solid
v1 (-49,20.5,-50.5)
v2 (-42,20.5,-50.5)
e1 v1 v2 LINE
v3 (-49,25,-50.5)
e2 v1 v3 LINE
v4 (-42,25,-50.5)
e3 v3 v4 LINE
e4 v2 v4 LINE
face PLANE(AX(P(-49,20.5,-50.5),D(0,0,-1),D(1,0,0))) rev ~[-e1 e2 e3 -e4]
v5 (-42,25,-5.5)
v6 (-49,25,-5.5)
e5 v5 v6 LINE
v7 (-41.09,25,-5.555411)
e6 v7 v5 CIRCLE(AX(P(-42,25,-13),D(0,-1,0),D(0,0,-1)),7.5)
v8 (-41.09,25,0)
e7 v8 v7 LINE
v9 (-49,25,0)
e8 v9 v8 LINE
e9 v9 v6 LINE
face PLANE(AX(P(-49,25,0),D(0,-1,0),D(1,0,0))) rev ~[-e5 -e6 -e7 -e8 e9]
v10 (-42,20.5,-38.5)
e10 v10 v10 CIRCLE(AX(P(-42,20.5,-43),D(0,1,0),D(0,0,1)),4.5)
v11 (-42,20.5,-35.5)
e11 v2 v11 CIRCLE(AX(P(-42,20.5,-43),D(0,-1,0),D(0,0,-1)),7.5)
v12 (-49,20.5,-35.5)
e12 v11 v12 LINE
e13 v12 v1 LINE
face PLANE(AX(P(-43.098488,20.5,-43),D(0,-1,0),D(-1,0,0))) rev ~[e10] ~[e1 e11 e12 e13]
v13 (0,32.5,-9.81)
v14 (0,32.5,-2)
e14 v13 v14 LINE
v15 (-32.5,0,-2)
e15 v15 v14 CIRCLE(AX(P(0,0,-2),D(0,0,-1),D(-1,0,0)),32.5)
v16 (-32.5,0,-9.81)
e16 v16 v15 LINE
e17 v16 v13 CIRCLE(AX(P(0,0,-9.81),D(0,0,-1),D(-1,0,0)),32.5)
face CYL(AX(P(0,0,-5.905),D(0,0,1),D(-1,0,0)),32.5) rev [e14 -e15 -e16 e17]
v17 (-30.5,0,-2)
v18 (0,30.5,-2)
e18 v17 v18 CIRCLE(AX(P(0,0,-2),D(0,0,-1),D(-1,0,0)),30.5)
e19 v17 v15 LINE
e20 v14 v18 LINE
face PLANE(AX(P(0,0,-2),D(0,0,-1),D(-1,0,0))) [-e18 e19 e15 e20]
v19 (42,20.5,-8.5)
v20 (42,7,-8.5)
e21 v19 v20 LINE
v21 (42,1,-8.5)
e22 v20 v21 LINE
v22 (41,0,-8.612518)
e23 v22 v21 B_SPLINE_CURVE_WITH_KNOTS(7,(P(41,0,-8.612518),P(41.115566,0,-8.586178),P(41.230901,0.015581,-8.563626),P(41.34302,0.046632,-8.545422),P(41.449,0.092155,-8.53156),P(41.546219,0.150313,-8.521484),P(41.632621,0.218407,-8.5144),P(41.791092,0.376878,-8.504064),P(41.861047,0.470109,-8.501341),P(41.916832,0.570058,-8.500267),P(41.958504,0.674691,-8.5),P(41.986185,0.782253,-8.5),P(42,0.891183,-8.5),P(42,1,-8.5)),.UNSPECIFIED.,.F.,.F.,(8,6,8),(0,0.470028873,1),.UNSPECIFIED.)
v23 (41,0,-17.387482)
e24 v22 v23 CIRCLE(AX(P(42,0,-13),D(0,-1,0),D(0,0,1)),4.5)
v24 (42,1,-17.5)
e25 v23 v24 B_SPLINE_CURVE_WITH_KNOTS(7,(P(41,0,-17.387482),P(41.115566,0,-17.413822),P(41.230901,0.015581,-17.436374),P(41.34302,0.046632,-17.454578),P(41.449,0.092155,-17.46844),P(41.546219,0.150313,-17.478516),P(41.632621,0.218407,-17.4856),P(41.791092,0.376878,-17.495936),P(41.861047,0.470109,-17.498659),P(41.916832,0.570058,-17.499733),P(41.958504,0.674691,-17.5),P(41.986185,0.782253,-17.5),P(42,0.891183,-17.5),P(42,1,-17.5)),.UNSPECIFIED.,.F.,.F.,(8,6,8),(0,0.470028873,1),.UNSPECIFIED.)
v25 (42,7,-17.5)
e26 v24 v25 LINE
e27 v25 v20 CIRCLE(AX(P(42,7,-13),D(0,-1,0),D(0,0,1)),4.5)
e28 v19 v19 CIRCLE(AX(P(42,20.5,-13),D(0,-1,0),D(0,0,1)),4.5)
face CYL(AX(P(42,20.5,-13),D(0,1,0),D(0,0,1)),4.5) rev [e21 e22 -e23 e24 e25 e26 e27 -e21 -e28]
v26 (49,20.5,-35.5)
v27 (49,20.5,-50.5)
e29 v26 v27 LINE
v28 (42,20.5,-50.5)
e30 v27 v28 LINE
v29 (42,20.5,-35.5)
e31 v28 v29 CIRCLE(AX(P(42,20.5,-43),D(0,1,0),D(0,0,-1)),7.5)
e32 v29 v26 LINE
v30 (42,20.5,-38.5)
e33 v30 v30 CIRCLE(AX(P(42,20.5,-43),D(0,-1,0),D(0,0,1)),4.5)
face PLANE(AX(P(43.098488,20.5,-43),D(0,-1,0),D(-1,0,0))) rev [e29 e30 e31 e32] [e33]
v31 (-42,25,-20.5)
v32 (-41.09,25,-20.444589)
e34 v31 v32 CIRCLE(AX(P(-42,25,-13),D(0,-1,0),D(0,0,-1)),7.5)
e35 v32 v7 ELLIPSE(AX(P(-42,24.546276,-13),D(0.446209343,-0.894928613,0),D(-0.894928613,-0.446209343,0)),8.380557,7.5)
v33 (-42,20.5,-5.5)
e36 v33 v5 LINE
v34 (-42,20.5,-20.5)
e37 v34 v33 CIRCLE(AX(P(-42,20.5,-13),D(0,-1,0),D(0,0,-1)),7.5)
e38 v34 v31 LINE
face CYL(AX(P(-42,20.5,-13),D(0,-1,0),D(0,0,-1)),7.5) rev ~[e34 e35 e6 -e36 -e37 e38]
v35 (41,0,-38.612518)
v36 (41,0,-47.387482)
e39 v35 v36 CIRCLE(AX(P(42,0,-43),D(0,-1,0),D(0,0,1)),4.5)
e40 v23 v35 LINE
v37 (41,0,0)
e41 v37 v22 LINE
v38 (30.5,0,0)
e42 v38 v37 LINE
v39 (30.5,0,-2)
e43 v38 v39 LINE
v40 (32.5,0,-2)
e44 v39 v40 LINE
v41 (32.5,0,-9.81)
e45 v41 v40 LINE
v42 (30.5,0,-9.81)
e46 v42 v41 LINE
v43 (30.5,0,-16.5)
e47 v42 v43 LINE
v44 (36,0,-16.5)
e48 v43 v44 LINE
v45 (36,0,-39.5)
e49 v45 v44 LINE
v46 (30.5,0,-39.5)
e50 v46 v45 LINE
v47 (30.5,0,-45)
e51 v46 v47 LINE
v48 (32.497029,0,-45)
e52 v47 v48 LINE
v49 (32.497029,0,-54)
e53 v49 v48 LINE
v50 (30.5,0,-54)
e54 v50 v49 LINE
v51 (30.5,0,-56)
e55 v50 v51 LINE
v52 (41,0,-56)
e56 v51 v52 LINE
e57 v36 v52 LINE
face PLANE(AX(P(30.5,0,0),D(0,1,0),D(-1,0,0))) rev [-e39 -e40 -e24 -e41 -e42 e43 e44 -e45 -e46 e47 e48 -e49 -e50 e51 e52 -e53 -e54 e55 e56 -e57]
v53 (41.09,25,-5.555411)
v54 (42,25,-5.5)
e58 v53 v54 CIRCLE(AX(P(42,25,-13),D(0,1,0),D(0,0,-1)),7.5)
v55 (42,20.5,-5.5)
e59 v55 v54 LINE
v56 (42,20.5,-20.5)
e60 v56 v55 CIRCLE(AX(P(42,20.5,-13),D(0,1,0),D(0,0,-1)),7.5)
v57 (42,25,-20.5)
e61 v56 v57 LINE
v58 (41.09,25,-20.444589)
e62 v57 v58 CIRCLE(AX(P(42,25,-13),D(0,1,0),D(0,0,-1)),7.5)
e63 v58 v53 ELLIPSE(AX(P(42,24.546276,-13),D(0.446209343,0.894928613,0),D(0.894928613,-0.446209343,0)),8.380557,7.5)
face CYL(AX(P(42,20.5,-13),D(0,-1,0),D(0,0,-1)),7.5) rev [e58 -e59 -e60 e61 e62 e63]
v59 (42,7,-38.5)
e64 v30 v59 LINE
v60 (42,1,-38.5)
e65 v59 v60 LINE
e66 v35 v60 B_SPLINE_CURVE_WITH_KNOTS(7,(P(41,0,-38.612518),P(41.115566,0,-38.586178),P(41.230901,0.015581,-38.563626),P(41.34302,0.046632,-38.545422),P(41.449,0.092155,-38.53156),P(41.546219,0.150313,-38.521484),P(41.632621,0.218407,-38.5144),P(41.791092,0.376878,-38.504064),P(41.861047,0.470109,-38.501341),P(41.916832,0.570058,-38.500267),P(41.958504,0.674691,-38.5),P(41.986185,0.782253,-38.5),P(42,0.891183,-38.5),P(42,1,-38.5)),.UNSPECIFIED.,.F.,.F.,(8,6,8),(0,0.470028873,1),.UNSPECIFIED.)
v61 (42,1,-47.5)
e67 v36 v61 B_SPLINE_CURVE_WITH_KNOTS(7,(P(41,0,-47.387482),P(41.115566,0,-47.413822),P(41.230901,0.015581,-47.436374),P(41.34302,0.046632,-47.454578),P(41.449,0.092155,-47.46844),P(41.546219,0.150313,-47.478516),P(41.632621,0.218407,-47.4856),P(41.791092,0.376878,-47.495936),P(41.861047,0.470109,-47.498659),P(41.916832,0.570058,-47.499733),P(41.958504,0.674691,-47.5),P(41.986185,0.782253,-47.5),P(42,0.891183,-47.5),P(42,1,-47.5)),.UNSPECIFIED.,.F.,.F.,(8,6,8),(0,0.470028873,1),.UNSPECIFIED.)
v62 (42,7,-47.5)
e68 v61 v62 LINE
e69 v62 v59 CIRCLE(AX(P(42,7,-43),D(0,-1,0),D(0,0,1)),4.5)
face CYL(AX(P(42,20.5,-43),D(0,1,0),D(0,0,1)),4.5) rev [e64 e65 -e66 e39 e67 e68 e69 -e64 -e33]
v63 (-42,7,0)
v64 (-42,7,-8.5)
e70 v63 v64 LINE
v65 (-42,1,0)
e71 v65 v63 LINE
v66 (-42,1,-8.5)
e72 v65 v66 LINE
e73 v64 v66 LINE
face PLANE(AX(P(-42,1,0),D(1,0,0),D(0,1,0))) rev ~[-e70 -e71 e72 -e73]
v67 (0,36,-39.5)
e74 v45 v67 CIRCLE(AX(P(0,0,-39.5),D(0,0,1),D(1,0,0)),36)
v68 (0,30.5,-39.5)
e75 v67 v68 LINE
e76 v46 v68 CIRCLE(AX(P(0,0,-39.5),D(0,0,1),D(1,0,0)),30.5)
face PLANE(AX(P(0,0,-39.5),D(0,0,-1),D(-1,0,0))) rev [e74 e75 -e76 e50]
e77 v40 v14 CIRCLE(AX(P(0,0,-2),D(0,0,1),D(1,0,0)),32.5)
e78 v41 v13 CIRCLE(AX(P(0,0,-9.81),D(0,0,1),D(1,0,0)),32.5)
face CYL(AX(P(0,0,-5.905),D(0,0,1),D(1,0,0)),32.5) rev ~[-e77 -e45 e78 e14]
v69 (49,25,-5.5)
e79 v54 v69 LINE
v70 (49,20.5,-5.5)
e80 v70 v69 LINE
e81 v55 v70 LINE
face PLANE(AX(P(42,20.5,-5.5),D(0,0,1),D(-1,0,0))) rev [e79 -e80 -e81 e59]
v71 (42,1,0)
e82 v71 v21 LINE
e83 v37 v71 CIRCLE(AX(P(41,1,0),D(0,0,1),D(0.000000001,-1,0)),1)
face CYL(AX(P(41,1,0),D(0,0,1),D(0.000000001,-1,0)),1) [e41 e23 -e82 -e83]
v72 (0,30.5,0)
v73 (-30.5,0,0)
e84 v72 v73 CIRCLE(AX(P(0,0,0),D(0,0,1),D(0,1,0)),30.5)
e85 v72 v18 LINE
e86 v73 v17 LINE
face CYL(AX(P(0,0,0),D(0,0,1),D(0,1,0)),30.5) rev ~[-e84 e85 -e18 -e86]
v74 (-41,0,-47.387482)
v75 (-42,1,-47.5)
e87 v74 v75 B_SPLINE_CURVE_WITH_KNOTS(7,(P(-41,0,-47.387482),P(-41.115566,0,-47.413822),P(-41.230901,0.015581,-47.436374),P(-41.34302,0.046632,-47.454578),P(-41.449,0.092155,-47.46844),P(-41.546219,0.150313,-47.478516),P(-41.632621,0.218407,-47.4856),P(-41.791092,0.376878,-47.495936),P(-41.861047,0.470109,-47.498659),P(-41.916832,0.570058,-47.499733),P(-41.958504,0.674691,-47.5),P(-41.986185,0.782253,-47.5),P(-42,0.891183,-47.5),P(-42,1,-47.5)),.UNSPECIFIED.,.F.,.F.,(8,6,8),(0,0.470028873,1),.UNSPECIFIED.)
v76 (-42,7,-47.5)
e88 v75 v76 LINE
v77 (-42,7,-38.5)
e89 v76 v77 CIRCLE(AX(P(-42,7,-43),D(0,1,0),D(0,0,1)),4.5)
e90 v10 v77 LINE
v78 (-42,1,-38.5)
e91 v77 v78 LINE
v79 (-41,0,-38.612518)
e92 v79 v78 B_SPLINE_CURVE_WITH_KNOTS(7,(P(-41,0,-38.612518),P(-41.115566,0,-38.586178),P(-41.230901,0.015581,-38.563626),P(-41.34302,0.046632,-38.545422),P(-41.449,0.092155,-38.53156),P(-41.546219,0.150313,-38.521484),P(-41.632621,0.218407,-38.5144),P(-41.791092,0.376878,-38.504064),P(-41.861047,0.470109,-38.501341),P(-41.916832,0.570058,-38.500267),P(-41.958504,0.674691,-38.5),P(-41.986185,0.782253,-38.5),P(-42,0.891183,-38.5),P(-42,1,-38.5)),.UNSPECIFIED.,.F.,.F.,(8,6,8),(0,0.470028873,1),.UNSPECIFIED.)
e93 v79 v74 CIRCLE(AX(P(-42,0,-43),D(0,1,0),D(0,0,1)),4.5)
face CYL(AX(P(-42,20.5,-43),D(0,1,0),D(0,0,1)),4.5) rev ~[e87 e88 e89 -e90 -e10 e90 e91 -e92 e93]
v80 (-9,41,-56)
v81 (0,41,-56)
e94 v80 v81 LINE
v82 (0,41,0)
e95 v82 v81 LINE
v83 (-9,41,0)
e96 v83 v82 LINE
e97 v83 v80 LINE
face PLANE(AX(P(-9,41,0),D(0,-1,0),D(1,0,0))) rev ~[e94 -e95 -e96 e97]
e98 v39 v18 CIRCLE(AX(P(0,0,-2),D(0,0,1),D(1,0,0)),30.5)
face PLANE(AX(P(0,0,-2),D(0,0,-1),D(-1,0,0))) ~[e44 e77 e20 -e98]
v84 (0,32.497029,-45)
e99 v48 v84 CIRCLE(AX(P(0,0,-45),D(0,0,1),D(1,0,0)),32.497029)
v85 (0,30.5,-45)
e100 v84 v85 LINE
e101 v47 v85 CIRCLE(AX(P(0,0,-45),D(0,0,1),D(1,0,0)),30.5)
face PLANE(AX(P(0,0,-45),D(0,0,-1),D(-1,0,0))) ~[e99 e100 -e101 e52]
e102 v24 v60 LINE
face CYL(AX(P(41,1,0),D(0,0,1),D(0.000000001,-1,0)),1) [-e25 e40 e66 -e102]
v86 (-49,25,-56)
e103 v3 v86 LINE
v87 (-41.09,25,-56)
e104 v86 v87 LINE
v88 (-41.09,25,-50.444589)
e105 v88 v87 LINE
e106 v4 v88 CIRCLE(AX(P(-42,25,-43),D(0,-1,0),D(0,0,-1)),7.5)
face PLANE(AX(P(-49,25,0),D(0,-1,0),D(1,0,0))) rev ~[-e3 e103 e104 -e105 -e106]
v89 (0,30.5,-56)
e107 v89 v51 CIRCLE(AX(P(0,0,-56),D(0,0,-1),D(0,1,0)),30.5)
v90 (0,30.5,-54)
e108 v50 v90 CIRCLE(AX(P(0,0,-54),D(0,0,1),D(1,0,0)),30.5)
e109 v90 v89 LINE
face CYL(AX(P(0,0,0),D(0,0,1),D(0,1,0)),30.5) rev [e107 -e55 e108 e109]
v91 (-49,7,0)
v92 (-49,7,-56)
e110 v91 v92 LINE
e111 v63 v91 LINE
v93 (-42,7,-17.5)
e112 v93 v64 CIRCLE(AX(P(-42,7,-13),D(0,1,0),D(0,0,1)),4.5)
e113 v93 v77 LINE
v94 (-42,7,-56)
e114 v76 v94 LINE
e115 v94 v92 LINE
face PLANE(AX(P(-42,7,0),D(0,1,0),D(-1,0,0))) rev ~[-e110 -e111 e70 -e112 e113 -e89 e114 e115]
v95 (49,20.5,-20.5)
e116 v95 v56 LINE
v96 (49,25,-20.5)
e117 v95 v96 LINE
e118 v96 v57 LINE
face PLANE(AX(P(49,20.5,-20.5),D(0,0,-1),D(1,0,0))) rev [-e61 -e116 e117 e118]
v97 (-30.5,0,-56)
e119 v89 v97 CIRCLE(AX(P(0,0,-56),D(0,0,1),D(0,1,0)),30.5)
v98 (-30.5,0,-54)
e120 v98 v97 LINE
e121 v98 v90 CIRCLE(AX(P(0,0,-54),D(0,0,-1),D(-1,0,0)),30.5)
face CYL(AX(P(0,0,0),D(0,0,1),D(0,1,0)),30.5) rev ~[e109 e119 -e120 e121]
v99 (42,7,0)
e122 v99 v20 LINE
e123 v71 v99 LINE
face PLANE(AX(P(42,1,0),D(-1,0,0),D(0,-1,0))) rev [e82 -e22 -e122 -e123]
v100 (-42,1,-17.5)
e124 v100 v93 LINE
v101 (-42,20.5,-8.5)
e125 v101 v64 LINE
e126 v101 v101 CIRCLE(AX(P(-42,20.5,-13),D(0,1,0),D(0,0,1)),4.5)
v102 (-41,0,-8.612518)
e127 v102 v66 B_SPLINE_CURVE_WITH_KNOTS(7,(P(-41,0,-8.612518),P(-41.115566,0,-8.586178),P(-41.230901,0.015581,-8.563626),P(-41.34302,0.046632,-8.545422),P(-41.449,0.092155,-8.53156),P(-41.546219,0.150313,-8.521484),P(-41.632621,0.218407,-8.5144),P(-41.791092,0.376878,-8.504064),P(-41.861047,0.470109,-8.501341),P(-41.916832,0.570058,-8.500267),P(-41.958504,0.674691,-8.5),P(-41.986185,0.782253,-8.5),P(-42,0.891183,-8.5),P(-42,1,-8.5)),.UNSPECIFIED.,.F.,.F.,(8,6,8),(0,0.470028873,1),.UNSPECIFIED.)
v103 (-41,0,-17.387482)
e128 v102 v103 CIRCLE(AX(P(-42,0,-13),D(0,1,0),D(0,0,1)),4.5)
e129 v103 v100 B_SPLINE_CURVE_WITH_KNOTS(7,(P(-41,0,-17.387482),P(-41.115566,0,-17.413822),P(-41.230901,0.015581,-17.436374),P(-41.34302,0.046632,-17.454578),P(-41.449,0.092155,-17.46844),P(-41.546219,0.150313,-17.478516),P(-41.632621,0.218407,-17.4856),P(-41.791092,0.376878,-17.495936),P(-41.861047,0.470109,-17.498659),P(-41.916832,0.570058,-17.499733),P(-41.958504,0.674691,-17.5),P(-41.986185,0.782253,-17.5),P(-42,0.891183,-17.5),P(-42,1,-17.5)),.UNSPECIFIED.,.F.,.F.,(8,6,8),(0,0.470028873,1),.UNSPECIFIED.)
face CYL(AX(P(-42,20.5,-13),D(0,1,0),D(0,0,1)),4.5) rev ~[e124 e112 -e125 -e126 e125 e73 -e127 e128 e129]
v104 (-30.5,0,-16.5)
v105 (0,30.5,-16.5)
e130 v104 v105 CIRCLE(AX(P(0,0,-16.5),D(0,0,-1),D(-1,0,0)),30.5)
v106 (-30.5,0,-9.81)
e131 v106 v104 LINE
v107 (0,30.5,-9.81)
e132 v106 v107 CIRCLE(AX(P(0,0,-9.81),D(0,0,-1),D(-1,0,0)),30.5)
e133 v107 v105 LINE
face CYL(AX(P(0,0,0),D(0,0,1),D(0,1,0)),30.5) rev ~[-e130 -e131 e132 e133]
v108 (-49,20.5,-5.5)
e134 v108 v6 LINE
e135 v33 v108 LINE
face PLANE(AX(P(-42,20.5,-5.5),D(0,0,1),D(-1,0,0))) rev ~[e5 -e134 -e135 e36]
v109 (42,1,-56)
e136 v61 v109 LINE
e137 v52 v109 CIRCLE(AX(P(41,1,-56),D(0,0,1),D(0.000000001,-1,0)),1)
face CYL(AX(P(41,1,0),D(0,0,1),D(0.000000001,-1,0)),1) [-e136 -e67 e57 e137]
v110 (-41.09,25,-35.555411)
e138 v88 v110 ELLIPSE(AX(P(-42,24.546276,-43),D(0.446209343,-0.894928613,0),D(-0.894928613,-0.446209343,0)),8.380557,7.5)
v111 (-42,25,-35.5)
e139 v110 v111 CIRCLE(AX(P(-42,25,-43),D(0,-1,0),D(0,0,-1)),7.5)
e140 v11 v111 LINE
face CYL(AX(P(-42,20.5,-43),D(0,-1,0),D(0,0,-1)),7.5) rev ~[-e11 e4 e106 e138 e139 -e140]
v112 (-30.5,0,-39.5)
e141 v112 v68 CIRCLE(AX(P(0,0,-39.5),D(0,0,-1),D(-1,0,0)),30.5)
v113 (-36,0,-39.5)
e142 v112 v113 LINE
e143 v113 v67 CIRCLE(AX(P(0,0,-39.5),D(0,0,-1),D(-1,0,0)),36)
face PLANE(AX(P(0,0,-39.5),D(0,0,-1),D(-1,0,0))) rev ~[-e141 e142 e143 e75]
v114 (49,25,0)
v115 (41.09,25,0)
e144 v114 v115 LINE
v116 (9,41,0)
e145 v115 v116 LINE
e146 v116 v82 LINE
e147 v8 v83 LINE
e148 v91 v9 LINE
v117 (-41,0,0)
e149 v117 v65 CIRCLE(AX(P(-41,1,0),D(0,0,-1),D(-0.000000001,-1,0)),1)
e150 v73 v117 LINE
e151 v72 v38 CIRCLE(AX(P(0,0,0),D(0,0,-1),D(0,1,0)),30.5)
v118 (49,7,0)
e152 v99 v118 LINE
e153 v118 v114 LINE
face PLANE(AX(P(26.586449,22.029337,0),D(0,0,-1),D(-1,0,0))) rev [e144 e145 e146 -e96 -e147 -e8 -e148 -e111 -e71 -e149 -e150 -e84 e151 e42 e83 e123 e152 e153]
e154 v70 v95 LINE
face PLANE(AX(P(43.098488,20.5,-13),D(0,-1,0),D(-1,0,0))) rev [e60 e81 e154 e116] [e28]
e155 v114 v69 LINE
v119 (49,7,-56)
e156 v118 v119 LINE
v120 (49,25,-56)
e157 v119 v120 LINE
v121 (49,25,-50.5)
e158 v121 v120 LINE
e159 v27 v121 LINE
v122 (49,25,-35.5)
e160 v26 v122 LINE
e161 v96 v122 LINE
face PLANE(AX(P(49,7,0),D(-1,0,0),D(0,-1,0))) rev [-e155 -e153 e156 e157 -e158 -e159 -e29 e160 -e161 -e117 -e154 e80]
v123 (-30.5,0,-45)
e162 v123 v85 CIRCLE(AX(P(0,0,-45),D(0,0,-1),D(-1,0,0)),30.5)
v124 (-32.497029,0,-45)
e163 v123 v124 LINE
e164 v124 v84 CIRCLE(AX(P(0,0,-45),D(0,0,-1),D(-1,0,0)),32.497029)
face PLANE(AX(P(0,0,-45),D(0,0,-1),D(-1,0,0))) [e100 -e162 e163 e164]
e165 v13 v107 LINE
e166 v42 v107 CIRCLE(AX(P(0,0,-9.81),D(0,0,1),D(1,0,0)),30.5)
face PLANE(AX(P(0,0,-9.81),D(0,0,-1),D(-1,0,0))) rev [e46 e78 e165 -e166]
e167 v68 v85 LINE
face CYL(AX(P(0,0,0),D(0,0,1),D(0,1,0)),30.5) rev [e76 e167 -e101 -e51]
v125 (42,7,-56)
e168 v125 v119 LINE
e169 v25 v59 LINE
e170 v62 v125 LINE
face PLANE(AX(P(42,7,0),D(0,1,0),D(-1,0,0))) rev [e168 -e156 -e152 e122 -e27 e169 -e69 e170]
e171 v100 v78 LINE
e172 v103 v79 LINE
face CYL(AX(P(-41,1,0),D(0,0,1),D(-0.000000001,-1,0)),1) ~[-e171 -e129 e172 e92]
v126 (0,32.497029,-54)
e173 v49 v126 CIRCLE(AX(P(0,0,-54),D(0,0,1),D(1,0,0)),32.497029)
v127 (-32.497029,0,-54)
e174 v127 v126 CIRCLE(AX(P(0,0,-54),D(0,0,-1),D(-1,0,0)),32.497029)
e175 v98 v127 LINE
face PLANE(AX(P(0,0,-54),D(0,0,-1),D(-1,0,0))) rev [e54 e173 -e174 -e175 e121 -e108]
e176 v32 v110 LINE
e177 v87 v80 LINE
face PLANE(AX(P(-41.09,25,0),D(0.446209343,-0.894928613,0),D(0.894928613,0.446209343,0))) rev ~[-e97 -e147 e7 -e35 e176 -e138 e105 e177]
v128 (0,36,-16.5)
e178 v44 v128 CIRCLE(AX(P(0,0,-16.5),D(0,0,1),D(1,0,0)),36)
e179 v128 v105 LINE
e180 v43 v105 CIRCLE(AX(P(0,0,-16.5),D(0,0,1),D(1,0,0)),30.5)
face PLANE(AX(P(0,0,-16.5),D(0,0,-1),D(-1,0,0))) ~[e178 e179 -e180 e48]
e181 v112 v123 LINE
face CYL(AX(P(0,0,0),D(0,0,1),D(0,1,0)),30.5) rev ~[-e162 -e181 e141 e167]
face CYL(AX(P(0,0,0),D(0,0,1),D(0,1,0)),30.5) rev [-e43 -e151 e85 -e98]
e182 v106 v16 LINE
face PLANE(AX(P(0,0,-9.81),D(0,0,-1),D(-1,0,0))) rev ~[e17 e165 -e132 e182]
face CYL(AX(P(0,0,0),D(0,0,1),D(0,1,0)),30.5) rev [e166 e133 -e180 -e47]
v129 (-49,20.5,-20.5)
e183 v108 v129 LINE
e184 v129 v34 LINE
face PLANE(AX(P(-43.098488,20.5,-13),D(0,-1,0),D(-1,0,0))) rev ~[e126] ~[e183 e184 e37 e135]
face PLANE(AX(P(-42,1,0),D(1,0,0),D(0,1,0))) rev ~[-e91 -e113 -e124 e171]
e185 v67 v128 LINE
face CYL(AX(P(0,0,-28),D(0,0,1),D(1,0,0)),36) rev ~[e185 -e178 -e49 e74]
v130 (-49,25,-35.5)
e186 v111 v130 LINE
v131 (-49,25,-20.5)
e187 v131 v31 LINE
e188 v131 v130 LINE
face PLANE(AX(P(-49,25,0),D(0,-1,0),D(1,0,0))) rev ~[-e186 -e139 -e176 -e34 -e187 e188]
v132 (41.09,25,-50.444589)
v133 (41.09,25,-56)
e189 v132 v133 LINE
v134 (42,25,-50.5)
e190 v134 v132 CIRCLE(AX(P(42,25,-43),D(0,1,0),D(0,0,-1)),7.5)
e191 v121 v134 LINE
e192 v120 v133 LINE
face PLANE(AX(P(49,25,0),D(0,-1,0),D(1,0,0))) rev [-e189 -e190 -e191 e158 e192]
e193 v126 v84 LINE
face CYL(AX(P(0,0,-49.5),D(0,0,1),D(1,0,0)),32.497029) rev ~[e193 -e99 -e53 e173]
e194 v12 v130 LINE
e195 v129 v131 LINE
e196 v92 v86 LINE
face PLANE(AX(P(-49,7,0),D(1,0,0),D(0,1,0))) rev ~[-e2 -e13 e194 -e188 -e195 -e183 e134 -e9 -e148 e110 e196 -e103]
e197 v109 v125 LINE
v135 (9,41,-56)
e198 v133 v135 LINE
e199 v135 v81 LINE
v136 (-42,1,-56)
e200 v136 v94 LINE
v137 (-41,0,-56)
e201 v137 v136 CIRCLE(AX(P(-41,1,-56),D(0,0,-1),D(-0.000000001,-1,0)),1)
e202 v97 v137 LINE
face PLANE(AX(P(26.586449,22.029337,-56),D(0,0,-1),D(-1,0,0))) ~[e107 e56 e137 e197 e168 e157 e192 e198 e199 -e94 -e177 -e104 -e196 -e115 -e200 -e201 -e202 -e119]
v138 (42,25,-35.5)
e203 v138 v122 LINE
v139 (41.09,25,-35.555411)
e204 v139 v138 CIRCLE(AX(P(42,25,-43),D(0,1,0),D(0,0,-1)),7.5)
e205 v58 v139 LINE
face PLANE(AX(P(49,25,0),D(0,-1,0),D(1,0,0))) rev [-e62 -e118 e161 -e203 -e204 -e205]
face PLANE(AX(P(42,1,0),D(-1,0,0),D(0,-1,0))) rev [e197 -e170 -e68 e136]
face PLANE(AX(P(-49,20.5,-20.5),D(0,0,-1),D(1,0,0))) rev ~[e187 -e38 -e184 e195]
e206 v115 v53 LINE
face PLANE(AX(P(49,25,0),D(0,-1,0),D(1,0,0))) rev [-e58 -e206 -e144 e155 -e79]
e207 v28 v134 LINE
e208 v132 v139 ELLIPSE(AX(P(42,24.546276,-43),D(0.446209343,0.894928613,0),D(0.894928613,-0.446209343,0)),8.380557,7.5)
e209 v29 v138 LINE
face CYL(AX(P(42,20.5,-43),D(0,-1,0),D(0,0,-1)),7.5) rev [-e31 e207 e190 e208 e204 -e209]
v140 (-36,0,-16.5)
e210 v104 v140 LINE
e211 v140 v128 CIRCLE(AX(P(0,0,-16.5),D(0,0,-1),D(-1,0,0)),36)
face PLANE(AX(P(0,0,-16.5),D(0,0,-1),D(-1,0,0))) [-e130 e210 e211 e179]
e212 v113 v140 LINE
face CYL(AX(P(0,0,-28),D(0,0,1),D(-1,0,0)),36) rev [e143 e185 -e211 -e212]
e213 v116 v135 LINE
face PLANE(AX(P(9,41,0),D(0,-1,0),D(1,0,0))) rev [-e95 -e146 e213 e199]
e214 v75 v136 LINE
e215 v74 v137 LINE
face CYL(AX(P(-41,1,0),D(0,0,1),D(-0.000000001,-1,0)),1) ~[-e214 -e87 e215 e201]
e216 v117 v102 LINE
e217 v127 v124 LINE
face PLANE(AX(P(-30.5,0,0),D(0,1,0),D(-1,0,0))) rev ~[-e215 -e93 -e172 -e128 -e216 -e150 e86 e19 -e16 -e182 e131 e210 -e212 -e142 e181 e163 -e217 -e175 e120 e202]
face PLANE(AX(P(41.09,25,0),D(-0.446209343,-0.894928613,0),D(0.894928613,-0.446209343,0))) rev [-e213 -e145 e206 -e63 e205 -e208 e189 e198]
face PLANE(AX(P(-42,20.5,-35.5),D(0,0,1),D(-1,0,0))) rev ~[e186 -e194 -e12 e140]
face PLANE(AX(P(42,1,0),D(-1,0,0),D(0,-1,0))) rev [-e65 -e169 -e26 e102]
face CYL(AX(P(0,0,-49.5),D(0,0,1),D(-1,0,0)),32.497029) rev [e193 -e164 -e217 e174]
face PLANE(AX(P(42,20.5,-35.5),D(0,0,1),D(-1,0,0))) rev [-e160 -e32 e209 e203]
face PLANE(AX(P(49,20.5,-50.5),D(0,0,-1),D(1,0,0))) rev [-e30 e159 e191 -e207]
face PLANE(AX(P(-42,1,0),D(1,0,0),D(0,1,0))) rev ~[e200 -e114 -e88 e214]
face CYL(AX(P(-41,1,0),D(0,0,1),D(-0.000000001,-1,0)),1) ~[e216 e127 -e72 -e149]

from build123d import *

# Parameters (mm, degrees)
BOSS_EXTRUDE1_DEPTH     = 56
SKETCH2_W               = 2
SKETCH2_H               = 7.81
SKETCH2_W_2             = 5.5
SKETCH2_H_2             = 23
SKETCH2_W_3             = 1.997029369
SKETCH2_H_3             = 9
CUT_EXTRUDE1_DEPTH      = 79.498407627
CUT_EXTRUDE1_DEPTH_BACK = 4.5
SKETCH5_R               = 4.5
CUT_EXTRUDE2_DEPTH      = 78.183223566


with BuildPart() as part:
    # Sketch1 → Boss-Extrude1 (new body)
    with BuildSketch(Plane.XY):
        with BuildLine():
            Line((-30.5, 0), (-41, 0))
            ThreePointArc((-41, 0), (-41.707106781, 0.292893219), (-42, 1))
            Line((-42, 1), (-42, 7))
            Line((-42, 7), (-49, 7))
            Line((-49, 7), (-49, 25))
            Line((-49, 25), (-41.09, 25))
            Line((-41.09, 25), (-9, 41))
            Line((-9, 41), (0, 41))
            Line((0, 41), (0, 30.5))
            ThreePointArc((0, 30.5), (-21.566756826, 21.566756826), (-30.5, 0))
        make_face()
    extrude(amount=-BOSS_EXTRUDE1_DEPTH)

    # Sketch2 → Cut-Revolve6 (revolve, cut)
    with BuildSketch(Plane.XZ):
        with Locations((-31.5, -5.905)):
            Rectangle(SKETCH2_W, SKETCH2_H)
        with Locations((-33.25, -28)):
            Rectangle(SKETCH2_W_2, SKETCH2_H_2)
        with Locations((-31.498514685, -49.5)):
            Rectangle(SKETCH2_W_3, SKETCH2_H_3)
    revolve(axis=Axis((0, 0, 0), (0, 0, -1)), mode=Mode.SUBTRACT)

    # Sketch4 → Cut-Extrude1 (cut, two sides: drawn at the far end of the back side and taken through both)
    with BuildSketch(Plane(origin=(0, 25, 0), x_dir=(1, 0, 0), z_dir=(0, 1, 0)).offset(-CUT_EXTRUDE1_DEPTH_BACK)):
        with BuildLine():
            Line((-49, 50.5), (-42, 50.5))
            ThreePointArc((-42, 50.5), (-34.5, 43), (-42, 35.5))
            Line((-42, 35.5), (-49, 35.5))
            Line((-49, 35.5), (-49, 50.5))
        make_face()
        with BuildLine():
            Line((-49, 20.5), (-42, 20.5))
            ThreePointArc((-42, 20.5), (-34.5, 13), (-42, 5.5))
            Line((-42, 5.5), (-49, 5.5))
            Line((-49, 5.5), (-49, 20.5))
        make_face()
    extrude(amount=CUT_EXTRUDE1_DEPTH + CUT_EXTRUDE1_DEPTH_BACK, mode=Mode.SUBTRACT)

    # Sketch5 → Cut-Extrude2 (cut, through all)
    with BuildSketch(Plane(origin=(0, 20.5, 0), x_dir=(1, 0, 0), z_dir=(0, 1, 0))):
        with Locations(Location((-42, 13, 0), (0, 0, 270))):
            Circle(SKETCH5_R)
        with Locations(Location((-42, 43, 0), (0, 0, 270))):
            Circle(SKETCH5_R)
    extrude(amount=-CUT_EXTRUDE2_DEPTH, mode=Mode.SUBTRACT)

    # Mirror1: part across plane


with BuildPart() as part_1:
    add(part.part)
    add(part.part.mirror(Plane(origin=(0, 41, -56), x_dir=(0, 0, 1), z_dir=(-1, 0, 0))))


solid = part_1.part
